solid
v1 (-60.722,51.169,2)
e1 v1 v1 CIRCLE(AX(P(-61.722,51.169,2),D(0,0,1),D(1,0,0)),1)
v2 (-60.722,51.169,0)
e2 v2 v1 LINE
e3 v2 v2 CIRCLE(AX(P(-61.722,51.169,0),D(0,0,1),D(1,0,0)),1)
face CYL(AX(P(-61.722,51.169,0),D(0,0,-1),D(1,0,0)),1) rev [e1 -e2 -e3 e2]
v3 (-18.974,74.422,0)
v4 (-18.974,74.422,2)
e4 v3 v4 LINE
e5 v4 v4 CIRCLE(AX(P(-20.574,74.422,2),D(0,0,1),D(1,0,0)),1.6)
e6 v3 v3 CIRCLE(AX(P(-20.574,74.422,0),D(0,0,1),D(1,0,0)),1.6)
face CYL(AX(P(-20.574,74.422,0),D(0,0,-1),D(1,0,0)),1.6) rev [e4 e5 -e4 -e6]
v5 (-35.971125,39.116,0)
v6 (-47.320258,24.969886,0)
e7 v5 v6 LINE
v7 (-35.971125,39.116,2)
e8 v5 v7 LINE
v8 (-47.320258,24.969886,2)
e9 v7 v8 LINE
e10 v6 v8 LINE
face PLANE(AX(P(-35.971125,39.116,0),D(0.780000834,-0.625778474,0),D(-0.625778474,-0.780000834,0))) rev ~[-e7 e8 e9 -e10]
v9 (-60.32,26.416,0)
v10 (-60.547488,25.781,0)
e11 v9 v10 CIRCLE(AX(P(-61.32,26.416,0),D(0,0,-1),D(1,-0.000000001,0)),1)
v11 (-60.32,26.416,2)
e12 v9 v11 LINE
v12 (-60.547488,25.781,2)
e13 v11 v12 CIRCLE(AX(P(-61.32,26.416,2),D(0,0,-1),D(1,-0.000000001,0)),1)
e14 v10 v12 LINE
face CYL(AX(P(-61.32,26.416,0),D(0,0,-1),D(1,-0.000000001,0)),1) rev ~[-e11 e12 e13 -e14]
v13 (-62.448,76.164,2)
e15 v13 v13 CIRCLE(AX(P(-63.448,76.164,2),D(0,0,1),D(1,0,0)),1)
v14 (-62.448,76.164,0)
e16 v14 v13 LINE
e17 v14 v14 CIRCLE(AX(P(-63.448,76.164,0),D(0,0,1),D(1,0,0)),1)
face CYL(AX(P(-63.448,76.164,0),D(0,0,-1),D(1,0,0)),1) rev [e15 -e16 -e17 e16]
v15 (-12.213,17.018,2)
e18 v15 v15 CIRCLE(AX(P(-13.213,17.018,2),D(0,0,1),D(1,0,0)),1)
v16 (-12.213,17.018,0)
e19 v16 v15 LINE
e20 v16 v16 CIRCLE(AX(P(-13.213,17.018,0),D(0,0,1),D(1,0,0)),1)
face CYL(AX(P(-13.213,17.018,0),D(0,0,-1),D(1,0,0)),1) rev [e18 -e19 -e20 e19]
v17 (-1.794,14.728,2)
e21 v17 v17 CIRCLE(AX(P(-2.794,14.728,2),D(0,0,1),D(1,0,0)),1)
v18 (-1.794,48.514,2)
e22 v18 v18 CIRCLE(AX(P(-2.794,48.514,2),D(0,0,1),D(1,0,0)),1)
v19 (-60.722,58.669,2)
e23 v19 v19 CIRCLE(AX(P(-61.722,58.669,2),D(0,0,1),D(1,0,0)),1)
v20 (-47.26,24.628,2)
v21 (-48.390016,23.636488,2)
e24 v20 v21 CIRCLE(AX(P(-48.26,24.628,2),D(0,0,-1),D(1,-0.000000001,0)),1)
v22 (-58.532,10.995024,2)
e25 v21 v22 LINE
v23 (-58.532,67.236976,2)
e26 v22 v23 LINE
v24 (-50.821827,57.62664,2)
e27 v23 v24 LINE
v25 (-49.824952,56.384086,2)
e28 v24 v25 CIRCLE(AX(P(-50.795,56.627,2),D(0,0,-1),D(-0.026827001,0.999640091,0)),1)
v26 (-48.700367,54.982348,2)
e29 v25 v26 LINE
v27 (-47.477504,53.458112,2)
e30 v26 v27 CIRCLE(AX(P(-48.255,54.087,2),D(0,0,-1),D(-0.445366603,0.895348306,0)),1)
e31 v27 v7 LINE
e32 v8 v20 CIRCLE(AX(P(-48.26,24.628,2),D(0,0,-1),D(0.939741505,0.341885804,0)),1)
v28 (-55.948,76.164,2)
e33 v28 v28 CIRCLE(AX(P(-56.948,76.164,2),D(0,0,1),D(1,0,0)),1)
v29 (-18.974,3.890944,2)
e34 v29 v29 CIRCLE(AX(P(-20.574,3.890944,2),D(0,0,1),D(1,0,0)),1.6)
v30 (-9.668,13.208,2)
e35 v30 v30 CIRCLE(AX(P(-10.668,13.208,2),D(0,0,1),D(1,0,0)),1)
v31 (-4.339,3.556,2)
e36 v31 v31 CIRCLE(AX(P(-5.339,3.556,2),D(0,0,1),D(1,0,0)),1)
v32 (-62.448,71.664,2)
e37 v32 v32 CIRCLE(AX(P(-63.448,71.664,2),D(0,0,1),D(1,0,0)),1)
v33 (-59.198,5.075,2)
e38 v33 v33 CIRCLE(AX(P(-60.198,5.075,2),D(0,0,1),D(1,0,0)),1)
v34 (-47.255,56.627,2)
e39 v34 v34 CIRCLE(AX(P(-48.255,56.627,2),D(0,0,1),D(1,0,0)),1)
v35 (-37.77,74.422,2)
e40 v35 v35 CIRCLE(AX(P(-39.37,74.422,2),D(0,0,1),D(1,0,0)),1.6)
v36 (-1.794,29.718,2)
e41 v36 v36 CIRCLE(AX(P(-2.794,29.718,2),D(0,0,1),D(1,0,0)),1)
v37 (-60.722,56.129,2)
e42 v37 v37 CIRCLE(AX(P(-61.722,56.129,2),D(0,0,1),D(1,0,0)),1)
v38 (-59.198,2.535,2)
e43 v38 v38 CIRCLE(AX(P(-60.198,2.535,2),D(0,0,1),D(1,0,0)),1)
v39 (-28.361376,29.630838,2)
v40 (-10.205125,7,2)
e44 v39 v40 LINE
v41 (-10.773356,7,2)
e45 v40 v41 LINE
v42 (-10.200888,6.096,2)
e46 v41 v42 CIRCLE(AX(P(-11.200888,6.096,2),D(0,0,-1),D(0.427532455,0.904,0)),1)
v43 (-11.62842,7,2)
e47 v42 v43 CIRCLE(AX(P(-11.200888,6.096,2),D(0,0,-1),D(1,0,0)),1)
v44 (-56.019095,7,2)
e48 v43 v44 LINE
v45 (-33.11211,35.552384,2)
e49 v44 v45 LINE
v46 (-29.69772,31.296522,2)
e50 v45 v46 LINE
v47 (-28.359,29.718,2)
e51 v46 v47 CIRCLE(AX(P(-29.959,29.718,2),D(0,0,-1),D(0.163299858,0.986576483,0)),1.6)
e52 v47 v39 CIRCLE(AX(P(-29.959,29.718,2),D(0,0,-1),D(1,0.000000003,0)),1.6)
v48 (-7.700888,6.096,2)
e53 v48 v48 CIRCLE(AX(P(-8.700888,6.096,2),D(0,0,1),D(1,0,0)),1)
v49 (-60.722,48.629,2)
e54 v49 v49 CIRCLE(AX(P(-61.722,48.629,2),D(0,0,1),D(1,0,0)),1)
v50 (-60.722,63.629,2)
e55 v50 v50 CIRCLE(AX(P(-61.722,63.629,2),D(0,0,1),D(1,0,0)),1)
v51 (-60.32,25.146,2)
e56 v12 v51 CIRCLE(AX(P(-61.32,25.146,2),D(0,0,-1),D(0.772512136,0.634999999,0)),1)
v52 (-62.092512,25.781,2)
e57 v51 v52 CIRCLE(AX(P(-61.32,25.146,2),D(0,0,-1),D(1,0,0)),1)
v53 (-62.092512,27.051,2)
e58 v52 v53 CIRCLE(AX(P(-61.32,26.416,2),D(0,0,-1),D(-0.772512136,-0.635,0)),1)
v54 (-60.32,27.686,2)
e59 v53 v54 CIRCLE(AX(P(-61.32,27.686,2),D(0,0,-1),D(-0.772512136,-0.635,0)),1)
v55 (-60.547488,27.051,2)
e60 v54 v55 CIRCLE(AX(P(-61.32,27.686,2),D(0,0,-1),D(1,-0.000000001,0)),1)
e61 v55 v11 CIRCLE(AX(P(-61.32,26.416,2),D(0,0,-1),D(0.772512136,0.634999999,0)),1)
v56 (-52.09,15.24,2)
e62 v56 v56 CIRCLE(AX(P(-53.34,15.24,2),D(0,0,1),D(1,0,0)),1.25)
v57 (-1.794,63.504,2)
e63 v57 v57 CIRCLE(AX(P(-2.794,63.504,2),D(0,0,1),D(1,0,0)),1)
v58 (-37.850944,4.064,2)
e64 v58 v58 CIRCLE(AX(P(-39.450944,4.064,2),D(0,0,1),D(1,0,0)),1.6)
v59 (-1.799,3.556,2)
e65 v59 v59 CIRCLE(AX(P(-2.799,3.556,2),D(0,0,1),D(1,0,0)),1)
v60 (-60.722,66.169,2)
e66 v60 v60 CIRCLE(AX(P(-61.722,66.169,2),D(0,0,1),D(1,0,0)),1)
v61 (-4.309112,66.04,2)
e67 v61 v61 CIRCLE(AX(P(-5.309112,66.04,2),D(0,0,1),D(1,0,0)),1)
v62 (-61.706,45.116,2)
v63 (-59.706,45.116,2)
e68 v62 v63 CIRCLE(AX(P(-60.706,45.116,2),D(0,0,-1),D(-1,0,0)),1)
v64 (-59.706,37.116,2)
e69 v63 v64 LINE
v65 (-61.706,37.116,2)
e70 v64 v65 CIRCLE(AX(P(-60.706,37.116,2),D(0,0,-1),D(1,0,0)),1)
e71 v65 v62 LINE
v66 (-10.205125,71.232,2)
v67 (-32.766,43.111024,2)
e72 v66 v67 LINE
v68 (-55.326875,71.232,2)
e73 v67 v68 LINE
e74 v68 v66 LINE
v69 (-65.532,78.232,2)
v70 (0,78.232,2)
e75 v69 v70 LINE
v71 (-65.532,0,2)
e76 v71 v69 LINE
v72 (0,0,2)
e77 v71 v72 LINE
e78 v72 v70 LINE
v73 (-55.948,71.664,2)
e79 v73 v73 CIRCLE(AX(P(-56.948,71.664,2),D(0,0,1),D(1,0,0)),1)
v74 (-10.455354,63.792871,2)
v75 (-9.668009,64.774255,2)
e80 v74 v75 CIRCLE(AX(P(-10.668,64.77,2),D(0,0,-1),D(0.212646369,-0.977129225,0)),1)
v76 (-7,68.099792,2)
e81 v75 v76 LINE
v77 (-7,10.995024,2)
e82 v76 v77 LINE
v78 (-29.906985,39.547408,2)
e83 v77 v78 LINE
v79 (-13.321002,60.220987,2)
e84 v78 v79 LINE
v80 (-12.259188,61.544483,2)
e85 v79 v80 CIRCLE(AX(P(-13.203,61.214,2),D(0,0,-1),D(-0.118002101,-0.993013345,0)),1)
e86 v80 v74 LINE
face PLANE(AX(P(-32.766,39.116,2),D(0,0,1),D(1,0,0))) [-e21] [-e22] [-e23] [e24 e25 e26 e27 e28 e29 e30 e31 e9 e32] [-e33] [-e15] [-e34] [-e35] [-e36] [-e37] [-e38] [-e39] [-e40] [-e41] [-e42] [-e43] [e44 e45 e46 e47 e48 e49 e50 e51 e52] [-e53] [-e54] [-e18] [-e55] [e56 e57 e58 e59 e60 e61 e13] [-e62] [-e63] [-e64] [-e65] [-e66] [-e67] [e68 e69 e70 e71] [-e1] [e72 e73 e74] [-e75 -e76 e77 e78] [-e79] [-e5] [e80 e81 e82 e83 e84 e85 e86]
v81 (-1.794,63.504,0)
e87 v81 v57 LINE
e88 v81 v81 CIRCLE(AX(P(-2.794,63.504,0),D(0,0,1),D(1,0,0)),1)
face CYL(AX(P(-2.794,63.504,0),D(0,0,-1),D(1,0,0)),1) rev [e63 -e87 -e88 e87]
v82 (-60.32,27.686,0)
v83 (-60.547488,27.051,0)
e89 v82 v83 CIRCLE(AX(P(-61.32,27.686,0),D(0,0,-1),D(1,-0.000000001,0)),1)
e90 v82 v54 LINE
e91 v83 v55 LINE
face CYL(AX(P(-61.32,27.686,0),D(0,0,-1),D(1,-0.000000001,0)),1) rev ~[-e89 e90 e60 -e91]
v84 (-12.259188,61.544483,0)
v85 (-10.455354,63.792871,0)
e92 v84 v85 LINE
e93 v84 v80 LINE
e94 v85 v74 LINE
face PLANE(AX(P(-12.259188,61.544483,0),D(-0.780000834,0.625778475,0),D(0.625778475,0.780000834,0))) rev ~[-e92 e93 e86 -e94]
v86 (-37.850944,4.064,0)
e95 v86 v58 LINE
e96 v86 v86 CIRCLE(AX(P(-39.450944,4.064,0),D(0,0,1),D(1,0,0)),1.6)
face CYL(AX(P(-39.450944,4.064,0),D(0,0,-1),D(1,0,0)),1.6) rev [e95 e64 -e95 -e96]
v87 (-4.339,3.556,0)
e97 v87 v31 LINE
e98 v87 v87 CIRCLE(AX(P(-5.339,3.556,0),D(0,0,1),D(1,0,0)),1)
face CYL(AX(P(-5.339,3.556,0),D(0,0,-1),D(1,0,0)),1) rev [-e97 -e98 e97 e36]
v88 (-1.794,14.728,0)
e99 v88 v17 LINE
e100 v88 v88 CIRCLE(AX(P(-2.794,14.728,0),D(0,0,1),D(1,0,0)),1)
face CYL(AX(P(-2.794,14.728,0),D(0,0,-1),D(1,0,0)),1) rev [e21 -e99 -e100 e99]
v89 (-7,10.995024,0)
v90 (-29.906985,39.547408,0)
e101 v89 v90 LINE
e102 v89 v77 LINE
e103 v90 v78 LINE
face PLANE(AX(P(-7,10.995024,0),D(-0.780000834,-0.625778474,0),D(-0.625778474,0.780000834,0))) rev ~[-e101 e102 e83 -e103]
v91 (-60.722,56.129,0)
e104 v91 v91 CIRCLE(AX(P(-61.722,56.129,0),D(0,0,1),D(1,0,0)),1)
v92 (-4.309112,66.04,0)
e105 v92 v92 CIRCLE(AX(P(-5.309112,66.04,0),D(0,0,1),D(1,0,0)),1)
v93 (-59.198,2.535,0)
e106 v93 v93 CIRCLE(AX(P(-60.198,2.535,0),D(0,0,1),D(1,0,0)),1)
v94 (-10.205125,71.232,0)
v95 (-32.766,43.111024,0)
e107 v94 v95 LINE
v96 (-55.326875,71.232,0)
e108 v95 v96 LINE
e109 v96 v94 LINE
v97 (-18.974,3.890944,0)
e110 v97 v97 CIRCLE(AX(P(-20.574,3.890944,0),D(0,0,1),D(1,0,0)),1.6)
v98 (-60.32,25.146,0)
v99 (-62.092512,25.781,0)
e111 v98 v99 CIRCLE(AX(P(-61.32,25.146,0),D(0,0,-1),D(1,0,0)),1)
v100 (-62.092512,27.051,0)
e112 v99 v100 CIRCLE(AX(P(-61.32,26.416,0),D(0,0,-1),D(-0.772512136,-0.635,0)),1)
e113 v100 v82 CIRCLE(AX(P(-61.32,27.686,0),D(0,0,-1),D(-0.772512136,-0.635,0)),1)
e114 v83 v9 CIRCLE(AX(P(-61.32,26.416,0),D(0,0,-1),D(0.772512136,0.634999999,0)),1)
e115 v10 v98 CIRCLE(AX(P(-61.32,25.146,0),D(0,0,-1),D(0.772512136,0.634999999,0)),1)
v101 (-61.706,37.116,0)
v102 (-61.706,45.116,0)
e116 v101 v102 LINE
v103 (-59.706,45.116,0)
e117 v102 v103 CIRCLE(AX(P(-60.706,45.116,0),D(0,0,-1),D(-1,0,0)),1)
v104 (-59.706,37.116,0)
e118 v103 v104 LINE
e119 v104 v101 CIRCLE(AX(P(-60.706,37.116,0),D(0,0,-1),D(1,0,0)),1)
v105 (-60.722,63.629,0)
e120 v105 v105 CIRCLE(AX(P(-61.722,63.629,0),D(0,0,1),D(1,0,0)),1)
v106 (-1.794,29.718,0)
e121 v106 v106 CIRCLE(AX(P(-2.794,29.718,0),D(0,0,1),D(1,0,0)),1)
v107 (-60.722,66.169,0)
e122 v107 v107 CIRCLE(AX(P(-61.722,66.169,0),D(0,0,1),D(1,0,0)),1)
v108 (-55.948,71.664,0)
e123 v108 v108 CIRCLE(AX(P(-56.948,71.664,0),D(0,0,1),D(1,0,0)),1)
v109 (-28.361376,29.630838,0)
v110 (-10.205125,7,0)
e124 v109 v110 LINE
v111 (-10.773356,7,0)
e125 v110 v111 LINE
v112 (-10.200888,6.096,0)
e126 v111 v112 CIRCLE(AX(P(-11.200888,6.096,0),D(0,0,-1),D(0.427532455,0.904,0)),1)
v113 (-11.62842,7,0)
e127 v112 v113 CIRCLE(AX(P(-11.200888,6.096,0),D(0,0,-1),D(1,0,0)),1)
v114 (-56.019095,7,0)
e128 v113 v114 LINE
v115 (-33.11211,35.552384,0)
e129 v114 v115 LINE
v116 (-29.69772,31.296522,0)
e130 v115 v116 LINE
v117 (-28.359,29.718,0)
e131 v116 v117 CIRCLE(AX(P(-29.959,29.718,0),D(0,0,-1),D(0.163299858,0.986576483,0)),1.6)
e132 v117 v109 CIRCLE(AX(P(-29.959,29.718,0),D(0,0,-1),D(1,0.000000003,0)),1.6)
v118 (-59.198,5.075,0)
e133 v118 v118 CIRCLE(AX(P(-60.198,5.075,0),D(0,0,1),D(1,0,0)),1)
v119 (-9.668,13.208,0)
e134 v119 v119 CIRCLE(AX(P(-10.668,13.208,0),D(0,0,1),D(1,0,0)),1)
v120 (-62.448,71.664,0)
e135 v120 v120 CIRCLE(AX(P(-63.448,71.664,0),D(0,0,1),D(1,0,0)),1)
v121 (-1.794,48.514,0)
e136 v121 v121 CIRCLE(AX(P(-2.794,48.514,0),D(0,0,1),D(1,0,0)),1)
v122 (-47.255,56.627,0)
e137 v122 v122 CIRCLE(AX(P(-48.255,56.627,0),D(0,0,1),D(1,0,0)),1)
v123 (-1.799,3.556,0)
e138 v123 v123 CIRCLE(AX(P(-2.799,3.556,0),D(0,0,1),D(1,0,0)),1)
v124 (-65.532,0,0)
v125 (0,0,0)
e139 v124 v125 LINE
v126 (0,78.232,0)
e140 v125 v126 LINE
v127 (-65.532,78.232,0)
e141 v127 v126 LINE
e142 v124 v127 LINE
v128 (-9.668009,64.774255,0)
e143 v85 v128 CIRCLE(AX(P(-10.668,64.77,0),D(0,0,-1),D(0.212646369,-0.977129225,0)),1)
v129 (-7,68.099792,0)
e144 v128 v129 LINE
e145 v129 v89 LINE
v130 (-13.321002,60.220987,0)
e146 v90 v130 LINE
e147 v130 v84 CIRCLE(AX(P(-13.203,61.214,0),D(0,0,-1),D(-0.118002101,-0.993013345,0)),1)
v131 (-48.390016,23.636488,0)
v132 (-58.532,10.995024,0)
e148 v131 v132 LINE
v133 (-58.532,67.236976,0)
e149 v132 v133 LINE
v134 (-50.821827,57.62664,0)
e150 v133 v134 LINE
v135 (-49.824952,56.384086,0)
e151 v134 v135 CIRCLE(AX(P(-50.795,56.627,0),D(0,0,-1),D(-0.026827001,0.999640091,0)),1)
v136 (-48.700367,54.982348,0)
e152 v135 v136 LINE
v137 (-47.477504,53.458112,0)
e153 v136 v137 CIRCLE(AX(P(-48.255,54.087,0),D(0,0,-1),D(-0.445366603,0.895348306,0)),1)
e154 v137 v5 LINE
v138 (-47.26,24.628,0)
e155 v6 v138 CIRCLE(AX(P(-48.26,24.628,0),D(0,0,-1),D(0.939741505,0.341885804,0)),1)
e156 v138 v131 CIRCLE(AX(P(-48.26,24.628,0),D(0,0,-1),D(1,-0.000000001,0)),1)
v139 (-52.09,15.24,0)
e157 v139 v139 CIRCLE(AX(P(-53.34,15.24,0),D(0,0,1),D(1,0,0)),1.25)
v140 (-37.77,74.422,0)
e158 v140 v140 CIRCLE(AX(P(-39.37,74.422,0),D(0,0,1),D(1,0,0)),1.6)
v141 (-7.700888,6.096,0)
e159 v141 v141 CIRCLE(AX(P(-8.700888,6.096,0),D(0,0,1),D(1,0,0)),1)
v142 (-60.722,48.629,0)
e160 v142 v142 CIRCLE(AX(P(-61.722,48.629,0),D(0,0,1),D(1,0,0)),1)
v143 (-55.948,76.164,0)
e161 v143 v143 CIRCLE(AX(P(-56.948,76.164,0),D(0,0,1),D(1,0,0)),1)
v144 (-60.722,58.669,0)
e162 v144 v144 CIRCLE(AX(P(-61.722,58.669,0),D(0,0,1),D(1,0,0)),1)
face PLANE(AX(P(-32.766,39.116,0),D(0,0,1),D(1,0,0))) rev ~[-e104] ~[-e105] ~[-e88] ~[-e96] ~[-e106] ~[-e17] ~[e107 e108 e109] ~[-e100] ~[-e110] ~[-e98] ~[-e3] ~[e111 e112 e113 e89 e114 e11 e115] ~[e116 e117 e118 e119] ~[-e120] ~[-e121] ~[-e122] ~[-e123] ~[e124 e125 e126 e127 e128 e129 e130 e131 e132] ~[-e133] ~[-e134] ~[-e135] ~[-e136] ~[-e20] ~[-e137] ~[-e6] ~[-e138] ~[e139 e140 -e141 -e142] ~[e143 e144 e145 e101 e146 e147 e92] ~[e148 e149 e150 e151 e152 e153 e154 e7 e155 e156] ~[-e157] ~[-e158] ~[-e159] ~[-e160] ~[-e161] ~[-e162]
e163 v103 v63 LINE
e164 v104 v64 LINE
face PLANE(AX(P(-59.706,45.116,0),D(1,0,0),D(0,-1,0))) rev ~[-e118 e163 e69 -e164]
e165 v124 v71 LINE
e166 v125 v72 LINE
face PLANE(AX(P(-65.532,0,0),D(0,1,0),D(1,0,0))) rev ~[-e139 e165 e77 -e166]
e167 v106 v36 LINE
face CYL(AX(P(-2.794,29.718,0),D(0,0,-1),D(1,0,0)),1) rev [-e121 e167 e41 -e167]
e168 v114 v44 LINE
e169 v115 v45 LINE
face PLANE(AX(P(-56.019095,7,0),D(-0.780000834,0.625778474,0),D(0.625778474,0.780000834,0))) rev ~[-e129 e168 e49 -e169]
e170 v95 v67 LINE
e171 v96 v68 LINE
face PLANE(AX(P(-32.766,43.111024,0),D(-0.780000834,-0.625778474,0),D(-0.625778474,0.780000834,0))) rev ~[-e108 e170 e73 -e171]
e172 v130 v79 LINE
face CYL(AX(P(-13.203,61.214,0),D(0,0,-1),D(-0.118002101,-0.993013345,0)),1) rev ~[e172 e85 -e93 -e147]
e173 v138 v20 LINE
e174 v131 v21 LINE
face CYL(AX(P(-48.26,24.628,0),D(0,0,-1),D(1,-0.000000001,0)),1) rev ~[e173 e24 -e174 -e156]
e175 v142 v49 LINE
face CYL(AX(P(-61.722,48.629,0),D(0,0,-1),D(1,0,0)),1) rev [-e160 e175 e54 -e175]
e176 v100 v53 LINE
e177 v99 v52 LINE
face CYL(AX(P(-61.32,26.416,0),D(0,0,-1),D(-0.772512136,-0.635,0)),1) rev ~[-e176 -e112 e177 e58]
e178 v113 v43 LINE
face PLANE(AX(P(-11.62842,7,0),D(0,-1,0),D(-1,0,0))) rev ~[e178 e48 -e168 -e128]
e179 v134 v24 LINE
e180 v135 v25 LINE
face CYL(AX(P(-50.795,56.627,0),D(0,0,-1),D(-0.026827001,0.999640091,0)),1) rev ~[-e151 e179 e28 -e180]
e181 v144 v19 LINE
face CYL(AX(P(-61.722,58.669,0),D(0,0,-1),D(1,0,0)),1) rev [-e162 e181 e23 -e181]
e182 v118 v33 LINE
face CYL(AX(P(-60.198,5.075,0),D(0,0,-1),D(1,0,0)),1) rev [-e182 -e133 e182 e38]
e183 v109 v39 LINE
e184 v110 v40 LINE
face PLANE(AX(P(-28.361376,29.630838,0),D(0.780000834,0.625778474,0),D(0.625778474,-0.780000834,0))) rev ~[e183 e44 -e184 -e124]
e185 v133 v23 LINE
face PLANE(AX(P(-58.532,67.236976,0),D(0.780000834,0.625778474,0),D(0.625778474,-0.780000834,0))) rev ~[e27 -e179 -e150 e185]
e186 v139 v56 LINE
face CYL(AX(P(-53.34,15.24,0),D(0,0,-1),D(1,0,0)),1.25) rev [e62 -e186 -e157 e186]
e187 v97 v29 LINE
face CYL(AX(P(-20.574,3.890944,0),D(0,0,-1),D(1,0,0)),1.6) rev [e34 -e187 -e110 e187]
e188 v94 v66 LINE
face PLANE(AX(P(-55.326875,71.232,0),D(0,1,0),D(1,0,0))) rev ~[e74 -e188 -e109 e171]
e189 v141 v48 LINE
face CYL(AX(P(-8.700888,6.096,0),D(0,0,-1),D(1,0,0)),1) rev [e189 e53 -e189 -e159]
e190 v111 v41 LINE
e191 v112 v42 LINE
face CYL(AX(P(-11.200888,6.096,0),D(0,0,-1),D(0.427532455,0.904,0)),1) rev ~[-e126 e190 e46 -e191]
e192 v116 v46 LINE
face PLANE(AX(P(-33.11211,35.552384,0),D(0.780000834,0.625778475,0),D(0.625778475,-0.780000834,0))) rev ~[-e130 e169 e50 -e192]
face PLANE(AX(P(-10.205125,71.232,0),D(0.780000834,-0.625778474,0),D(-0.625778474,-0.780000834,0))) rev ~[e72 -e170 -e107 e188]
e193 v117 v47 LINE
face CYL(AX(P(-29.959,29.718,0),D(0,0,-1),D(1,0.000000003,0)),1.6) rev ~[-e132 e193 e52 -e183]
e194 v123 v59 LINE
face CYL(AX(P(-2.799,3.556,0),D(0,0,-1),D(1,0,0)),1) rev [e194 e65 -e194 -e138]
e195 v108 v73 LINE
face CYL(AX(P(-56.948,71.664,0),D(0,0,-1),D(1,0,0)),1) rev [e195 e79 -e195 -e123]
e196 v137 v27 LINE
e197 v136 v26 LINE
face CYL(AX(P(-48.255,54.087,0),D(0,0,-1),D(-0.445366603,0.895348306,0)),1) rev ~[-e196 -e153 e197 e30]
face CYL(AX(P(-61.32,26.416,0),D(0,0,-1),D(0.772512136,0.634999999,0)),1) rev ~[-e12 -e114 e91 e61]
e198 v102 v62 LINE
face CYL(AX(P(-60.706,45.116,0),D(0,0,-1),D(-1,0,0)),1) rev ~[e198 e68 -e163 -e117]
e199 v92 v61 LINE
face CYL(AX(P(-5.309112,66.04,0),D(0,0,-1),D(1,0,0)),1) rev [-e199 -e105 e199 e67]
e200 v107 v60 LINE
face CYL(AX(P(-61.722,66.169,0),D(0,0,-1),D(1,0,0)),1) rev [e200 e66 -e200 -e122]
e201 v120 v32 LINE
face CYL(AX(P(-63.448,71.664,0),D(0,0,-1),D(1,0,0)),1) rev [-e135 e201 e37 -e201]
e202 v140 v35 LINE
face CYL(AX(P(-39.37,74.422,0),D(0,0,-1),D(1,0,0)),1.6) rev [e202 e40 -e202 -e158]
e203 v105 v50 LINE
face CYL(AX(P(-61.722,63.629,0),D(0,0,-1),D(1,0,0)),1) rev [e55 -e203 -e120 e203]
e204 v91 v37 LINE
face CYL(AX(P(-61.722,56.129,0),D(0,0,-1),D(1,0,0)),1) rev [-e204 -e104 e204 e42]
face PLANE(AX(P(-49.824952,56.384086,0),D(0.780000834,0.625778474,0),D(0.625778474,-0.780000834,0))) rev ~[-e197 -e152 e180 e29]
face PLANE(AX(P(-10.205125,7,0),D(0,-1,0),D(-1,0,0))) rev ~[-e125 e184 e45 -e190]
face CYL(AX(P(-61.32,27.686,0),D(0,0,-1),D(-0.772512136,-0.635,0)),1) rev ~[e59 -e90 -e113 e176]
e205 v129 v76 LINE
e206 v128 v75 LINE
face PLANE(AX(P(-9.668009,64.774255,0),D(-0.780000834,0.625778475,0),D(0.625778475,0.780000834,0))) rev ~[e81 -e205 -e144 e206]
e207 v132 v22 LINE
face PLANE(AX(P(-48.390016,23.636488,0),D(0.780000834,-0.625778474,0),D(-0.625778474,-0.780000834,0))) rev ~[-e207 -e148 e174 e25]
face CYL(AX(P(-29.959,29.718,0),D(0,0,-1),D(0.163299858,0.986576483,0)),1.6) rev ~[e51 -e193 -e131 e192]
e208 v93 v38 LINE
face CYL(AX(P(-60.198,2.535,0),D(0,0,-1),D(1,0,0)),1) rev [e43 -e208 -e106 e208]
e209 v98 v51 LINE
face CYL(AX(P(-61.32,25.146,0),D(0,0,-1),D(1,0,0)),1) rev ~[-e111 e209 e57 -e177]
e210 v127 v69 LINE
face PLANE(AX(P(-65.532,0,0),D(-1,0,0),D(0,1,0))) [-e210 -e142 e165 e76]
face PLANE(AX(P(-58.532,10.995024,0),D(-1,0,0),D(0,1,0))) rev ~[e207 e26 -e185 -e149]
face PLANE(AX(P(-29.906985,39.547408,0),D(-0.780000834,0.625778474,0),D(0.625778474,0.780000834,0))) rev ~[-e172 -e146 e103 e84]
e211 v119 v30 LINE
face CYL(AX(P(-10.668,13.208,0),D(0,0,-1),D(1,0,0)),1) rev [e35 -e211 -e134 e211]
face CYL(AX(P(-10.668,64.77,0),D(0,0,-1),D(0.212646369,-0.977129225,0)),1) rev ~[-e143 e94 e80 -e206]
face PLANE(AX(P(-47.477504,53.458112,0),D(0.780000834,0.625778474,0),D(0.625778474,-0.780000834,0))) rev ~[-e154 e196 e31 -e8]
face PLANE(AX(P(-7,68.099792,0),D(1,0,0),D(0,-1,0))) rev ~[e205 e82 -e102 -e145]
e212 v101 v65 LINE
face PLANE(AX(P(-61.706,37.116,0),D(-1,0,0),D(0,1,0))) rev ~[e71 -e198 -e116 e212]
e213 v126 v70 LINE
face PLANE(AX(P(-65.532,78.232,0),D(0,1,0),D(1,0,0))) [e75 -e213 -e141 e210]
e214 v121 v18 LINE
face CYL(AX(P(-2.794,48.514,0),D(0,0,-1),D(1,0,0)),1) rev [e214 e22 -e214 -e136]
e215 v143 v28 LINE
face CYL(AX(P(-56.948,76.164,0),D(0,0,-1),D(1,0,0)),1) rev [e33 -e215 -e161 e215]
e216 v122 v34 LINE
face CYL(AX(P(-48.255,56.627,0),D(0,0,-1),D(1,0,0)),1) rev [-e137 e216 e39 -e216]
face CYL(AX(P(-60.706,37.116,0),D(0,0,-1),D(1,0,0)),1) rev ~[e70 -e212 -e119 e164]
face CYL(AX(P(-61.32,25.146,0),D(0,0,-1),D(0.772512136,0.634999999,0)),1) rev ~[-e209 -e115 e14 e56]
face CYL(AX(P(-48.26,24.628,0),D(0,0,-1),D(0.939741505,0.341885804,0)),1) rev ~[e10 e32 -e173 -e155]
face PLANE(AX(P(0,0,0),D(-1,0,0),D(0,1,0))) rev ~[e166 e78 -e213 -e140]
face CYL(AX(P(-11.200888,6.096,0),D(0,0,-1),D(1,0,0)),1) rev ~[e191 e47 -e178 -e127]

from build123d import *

# Parameters (mm, degrees)
SKETCH3_W            = 65.532
SKETCH3_H            = 78.232
SKETCH3_R            = 1
SKETCH3_R_2          = 1.25
SKETCH3_R_3          = 1.6
BOSS_EXTRUDE10_DEPTH = 2


with BuildPart() as part:
    # Sketch3 → Boss-Extrude10 (new body)
    with BuildSketch(Plane.XY):
        with Locations((-32.766, 39.116)):
            Rectangle(SKETCH3_W, SKETCH3_H)
        with Locations((-60.198, 2.535)):
            Circle(SKETCH3_R, mode=Mode.SUBTRACT)
        with Locations((-60.198, 5.075)):
            Circle(SKETCH3_R, mode=Mode.SUBTRACT)
        with Locations((-53.34, 15.24)):
            Circle(SKETCH3_R_2, mode=Mode.SUBTRACT)
        with Locations((-39.450944, 4.064)):
            Circle(SKETCH3_R_3, mode=Mode.SUBTRACT)
        with BuildLine():
            ThreePointArc((-60.547487864, 25.781), (-60.378588258, 25.483259443), (-60.32, 25.146))
            ThreePointArc((-60.32, 25.146), (-61.657259443, 24.204588258), (-62.092512136, 25.781))
            ThreePointArc((-62.092512136, 25.781), (-62.32, 26.416), (-62.092512136, 27.051))
            ThreePointArc((-62.092512136, 27.051), (-61.657259443, 28.627411742), (-60.32, 27.686))
            ThreePointArc((-60.32, 27.686), (-60.378588258, 27.348740557), (-60.547487864, 27.051))
            ThreePointArc((-60.547487864, 27.051), (-60.378588258, 26.753259443), (-60.32, 26.416))
            ThreePointArc((-60.32, 26.416), (-60.378588258, 26.078740557), (-60.547487864, 25.781))
        make_face(mode=Mode.SUBTRACT)
        with BuildLine():
            Line((-11.628420455, 7), (-56.019094707, 7))
            Line((-56.019094707, 7), (-33.112109743, 35.552384115))
            Line((-33.112109743, 35.552384115), (-29.697720228, 31.296522373))
            ThreePointArc((-29.697720228, 31.296522373), (-28.738744364, 30.752879791), (-28.359, 29.718))
            ThreePointArc((-28.359, 29.718), (-28.359594089, 29.67440261), (-28.361375915, 29.630837597))
            Line((-28.361375915, 29.630837597), (-10.205124779, 7))
            Line((-10.205124779, 7), (-10.773355545, 7))
            ThreePointArc((-10.773355545, 7), (-10.356041134, 6.631008199), (-10.200888, 6.096))
            ThreePointArc((-10.200888, 6.096), (-11.735896199, 5.251153134), (-11.628420455, 7))
        make_face(mode=Mode.SUBTRACT)
        with Locations((-20.574, 3.890944)):
            Circle(SKETCH3_R_3, mode=Mode.SUBTRACT)
        with Locations((-8.700888, 6.096)):
            Circle(SKETCH3_R, mode=Mode.SUBTRACT)
        with Locations((-5.339, 3.556)):
            Circle(SKETCH3_R, mode=Mode.SUBTRACT)
        with Locations((-2.799, 3.556)):
            Circle(SKETCH3_R, mode=Mode.SUBTRACT)
        with Locations((-10.668, 13.208)):
            Circle(SKETCH3_R, mode=Mode.SUBTRACT)
        with Locations((-13.213, 17.018)):
            Circle(SKETCH3_R, mode=Mode.SUBTRACT)
        with Locations((-2.794, 14.728)):
            Circle(SKETCH3_R, mode=Mode.SUBTRACT)
        with Locations((-2.794, 29.718)):
            Circle(SKETCH3_R, mode=Mode.SUBTRACT)
        with BuildLine():
            ThreePointArc((-61.706, 45.116), (-60.706, 46.116), (-59.706, 45.116))
            Line((-59.706, 45.116), (-59.706, 37.116))
            ThreePointArc((-59.706, 37.116), (-60.706, 36.116), (-61.706, 37.116))
            Line((-61.706, 37.116), (-61.706, 45.116))
        make_face(mode=Mode.SUBTRACT)
        with Locations((-61.722, 48.629)):
            Circle(SKETCH3_R, mode=Mode.SUBTRACT)
        with Locations((-61.722, 51.169)):
            Circle(SKETCH3_R, mode=Mode.SUBTRACT)
        with Locations((-61.722, 56.129)):
            Circle(SKETCH3_R, mode=Mode.SUBTRACT)
        with Locations((-61.722, 58.669)):
            Circle(SKETCH3_R, mode=Mode.SUBTRACT)
        with BuildLine():
            Line((-58.532, 10.995023961), (-58.532, 67.236976039))
            Line((-58.532, 67.236976039), (-50.821827001, 57.626640091))
            ThreePointArc((-50.821827001, 57.626640091), (-50.014999166, 57.252778474), (-49.824952048, 56.384086494))
            Line((-49.824952048, 56.384086494), (-48.700366603, 54.982348306))
            ThreePointArc((-48.700366603, 54.982348306), (-47.474999166, 54.712778474), (-47.477503777, 53.458112393))
            Line((-47.477503777, 53.458112393), (-35.971124779, 39.116))
            Line((-35.971124779, 39.116), (-47.320258494, 24.969885803))
            ThreePointArc((-47.320258494, 24.969885803), (-47.275179837, 24.801577784), (-47.26, 24.628))
            ThreePointArc((-47.26, 24.628), (-47.600460693, 23.876329925), (-48.390015804, 23.636488078))
            Line((-48.390015804, 23.636488078), (-58.532, 10.995023961))
        make_face(mode=Mode.SUBTRACT)
        with Locations((-48.255, 56.627)):
            Circle(SKETCH3_R, mode=Mode.SUBTRACT)
        Polygon((-32.766, 43.111023961), (-55.326875221, 71.232), (-10.205124779, 71.232), align=None, mode=Mode.SUBTRACT)
        with Locations((-61.722, 63.629)):
            Circle(SKETCH3_R, mode=Mode.SUBTRACT)
        with Locations((-61.722, 66.169)):
            Circle(SKETCH3_R, mode=Mode.SUBTRACT)
        with Locations((-63.448, 71.664)):
            Circle(SKETCH3_R, mode=Mode.SUBTRACT)
        with Locations((-63.448, 76.164)):
            Circle(SKETCH3_R, mode=Mode.SUBTRACT)
        with Locations((-56.948, 71.664)):
            Circle(SKETCH3_R, mode=Mode.SUBTRACT)
        with Locations((-56.948, 76.164)):
            Circle(SKETCH3_R, mode=Mode.SUBTRACT)
        with Locations((-39.37, 74.422)):
            Circle(SKETCH3_R_3, mode=Mode.SUBTRACT)
        with BuildLine():
            Line((-9.668009055, 64.774255485), (-7, 68.099792192))
            Line((-7, 68.099792192), (-7, 10.995023961))
            Line((-7, 10.995023961), (-29.906984964, 39.547408077))
            Line((-29.906984964, 39.547408077), (-13.321002101, 60.220986655))
            ThreePointArc((-13.321002101, 60.220986655), (-13.983000834, 61.839778474), (-12.259188179, 61.544483353))
            Line((-12.259188179, 61.544483353), (-10.455353631, 63.792870775))
            ThreePointArc((-10.455353631, 63.792870775), (-11.448000834, 65.395778474), (-9.668009055, 64.774255485))
        make_face(mode=Mode.SUBTRACT)
        with Locations((-2.794, 48.514)):
            Circle(SKETCH3_R, mode=Mode.SUBTRACT)
        with Locations((-20.574, 74.422)):
            Circle(SKETCH3_R_3, mode=Mode.SUBTRACT)
        with Locations((-2.794, 63.504)):
            Circle(SKETCH3_R, mode=Mode.SUBTRACT)
        with Locations((-5.309112, 66.04)):
            Circle(SKETCH3_R, mode=Mode.SUBTRACT)
    extrude(amount=BOSS_EXTRUDE10_DEPTH)


solid = part.part
